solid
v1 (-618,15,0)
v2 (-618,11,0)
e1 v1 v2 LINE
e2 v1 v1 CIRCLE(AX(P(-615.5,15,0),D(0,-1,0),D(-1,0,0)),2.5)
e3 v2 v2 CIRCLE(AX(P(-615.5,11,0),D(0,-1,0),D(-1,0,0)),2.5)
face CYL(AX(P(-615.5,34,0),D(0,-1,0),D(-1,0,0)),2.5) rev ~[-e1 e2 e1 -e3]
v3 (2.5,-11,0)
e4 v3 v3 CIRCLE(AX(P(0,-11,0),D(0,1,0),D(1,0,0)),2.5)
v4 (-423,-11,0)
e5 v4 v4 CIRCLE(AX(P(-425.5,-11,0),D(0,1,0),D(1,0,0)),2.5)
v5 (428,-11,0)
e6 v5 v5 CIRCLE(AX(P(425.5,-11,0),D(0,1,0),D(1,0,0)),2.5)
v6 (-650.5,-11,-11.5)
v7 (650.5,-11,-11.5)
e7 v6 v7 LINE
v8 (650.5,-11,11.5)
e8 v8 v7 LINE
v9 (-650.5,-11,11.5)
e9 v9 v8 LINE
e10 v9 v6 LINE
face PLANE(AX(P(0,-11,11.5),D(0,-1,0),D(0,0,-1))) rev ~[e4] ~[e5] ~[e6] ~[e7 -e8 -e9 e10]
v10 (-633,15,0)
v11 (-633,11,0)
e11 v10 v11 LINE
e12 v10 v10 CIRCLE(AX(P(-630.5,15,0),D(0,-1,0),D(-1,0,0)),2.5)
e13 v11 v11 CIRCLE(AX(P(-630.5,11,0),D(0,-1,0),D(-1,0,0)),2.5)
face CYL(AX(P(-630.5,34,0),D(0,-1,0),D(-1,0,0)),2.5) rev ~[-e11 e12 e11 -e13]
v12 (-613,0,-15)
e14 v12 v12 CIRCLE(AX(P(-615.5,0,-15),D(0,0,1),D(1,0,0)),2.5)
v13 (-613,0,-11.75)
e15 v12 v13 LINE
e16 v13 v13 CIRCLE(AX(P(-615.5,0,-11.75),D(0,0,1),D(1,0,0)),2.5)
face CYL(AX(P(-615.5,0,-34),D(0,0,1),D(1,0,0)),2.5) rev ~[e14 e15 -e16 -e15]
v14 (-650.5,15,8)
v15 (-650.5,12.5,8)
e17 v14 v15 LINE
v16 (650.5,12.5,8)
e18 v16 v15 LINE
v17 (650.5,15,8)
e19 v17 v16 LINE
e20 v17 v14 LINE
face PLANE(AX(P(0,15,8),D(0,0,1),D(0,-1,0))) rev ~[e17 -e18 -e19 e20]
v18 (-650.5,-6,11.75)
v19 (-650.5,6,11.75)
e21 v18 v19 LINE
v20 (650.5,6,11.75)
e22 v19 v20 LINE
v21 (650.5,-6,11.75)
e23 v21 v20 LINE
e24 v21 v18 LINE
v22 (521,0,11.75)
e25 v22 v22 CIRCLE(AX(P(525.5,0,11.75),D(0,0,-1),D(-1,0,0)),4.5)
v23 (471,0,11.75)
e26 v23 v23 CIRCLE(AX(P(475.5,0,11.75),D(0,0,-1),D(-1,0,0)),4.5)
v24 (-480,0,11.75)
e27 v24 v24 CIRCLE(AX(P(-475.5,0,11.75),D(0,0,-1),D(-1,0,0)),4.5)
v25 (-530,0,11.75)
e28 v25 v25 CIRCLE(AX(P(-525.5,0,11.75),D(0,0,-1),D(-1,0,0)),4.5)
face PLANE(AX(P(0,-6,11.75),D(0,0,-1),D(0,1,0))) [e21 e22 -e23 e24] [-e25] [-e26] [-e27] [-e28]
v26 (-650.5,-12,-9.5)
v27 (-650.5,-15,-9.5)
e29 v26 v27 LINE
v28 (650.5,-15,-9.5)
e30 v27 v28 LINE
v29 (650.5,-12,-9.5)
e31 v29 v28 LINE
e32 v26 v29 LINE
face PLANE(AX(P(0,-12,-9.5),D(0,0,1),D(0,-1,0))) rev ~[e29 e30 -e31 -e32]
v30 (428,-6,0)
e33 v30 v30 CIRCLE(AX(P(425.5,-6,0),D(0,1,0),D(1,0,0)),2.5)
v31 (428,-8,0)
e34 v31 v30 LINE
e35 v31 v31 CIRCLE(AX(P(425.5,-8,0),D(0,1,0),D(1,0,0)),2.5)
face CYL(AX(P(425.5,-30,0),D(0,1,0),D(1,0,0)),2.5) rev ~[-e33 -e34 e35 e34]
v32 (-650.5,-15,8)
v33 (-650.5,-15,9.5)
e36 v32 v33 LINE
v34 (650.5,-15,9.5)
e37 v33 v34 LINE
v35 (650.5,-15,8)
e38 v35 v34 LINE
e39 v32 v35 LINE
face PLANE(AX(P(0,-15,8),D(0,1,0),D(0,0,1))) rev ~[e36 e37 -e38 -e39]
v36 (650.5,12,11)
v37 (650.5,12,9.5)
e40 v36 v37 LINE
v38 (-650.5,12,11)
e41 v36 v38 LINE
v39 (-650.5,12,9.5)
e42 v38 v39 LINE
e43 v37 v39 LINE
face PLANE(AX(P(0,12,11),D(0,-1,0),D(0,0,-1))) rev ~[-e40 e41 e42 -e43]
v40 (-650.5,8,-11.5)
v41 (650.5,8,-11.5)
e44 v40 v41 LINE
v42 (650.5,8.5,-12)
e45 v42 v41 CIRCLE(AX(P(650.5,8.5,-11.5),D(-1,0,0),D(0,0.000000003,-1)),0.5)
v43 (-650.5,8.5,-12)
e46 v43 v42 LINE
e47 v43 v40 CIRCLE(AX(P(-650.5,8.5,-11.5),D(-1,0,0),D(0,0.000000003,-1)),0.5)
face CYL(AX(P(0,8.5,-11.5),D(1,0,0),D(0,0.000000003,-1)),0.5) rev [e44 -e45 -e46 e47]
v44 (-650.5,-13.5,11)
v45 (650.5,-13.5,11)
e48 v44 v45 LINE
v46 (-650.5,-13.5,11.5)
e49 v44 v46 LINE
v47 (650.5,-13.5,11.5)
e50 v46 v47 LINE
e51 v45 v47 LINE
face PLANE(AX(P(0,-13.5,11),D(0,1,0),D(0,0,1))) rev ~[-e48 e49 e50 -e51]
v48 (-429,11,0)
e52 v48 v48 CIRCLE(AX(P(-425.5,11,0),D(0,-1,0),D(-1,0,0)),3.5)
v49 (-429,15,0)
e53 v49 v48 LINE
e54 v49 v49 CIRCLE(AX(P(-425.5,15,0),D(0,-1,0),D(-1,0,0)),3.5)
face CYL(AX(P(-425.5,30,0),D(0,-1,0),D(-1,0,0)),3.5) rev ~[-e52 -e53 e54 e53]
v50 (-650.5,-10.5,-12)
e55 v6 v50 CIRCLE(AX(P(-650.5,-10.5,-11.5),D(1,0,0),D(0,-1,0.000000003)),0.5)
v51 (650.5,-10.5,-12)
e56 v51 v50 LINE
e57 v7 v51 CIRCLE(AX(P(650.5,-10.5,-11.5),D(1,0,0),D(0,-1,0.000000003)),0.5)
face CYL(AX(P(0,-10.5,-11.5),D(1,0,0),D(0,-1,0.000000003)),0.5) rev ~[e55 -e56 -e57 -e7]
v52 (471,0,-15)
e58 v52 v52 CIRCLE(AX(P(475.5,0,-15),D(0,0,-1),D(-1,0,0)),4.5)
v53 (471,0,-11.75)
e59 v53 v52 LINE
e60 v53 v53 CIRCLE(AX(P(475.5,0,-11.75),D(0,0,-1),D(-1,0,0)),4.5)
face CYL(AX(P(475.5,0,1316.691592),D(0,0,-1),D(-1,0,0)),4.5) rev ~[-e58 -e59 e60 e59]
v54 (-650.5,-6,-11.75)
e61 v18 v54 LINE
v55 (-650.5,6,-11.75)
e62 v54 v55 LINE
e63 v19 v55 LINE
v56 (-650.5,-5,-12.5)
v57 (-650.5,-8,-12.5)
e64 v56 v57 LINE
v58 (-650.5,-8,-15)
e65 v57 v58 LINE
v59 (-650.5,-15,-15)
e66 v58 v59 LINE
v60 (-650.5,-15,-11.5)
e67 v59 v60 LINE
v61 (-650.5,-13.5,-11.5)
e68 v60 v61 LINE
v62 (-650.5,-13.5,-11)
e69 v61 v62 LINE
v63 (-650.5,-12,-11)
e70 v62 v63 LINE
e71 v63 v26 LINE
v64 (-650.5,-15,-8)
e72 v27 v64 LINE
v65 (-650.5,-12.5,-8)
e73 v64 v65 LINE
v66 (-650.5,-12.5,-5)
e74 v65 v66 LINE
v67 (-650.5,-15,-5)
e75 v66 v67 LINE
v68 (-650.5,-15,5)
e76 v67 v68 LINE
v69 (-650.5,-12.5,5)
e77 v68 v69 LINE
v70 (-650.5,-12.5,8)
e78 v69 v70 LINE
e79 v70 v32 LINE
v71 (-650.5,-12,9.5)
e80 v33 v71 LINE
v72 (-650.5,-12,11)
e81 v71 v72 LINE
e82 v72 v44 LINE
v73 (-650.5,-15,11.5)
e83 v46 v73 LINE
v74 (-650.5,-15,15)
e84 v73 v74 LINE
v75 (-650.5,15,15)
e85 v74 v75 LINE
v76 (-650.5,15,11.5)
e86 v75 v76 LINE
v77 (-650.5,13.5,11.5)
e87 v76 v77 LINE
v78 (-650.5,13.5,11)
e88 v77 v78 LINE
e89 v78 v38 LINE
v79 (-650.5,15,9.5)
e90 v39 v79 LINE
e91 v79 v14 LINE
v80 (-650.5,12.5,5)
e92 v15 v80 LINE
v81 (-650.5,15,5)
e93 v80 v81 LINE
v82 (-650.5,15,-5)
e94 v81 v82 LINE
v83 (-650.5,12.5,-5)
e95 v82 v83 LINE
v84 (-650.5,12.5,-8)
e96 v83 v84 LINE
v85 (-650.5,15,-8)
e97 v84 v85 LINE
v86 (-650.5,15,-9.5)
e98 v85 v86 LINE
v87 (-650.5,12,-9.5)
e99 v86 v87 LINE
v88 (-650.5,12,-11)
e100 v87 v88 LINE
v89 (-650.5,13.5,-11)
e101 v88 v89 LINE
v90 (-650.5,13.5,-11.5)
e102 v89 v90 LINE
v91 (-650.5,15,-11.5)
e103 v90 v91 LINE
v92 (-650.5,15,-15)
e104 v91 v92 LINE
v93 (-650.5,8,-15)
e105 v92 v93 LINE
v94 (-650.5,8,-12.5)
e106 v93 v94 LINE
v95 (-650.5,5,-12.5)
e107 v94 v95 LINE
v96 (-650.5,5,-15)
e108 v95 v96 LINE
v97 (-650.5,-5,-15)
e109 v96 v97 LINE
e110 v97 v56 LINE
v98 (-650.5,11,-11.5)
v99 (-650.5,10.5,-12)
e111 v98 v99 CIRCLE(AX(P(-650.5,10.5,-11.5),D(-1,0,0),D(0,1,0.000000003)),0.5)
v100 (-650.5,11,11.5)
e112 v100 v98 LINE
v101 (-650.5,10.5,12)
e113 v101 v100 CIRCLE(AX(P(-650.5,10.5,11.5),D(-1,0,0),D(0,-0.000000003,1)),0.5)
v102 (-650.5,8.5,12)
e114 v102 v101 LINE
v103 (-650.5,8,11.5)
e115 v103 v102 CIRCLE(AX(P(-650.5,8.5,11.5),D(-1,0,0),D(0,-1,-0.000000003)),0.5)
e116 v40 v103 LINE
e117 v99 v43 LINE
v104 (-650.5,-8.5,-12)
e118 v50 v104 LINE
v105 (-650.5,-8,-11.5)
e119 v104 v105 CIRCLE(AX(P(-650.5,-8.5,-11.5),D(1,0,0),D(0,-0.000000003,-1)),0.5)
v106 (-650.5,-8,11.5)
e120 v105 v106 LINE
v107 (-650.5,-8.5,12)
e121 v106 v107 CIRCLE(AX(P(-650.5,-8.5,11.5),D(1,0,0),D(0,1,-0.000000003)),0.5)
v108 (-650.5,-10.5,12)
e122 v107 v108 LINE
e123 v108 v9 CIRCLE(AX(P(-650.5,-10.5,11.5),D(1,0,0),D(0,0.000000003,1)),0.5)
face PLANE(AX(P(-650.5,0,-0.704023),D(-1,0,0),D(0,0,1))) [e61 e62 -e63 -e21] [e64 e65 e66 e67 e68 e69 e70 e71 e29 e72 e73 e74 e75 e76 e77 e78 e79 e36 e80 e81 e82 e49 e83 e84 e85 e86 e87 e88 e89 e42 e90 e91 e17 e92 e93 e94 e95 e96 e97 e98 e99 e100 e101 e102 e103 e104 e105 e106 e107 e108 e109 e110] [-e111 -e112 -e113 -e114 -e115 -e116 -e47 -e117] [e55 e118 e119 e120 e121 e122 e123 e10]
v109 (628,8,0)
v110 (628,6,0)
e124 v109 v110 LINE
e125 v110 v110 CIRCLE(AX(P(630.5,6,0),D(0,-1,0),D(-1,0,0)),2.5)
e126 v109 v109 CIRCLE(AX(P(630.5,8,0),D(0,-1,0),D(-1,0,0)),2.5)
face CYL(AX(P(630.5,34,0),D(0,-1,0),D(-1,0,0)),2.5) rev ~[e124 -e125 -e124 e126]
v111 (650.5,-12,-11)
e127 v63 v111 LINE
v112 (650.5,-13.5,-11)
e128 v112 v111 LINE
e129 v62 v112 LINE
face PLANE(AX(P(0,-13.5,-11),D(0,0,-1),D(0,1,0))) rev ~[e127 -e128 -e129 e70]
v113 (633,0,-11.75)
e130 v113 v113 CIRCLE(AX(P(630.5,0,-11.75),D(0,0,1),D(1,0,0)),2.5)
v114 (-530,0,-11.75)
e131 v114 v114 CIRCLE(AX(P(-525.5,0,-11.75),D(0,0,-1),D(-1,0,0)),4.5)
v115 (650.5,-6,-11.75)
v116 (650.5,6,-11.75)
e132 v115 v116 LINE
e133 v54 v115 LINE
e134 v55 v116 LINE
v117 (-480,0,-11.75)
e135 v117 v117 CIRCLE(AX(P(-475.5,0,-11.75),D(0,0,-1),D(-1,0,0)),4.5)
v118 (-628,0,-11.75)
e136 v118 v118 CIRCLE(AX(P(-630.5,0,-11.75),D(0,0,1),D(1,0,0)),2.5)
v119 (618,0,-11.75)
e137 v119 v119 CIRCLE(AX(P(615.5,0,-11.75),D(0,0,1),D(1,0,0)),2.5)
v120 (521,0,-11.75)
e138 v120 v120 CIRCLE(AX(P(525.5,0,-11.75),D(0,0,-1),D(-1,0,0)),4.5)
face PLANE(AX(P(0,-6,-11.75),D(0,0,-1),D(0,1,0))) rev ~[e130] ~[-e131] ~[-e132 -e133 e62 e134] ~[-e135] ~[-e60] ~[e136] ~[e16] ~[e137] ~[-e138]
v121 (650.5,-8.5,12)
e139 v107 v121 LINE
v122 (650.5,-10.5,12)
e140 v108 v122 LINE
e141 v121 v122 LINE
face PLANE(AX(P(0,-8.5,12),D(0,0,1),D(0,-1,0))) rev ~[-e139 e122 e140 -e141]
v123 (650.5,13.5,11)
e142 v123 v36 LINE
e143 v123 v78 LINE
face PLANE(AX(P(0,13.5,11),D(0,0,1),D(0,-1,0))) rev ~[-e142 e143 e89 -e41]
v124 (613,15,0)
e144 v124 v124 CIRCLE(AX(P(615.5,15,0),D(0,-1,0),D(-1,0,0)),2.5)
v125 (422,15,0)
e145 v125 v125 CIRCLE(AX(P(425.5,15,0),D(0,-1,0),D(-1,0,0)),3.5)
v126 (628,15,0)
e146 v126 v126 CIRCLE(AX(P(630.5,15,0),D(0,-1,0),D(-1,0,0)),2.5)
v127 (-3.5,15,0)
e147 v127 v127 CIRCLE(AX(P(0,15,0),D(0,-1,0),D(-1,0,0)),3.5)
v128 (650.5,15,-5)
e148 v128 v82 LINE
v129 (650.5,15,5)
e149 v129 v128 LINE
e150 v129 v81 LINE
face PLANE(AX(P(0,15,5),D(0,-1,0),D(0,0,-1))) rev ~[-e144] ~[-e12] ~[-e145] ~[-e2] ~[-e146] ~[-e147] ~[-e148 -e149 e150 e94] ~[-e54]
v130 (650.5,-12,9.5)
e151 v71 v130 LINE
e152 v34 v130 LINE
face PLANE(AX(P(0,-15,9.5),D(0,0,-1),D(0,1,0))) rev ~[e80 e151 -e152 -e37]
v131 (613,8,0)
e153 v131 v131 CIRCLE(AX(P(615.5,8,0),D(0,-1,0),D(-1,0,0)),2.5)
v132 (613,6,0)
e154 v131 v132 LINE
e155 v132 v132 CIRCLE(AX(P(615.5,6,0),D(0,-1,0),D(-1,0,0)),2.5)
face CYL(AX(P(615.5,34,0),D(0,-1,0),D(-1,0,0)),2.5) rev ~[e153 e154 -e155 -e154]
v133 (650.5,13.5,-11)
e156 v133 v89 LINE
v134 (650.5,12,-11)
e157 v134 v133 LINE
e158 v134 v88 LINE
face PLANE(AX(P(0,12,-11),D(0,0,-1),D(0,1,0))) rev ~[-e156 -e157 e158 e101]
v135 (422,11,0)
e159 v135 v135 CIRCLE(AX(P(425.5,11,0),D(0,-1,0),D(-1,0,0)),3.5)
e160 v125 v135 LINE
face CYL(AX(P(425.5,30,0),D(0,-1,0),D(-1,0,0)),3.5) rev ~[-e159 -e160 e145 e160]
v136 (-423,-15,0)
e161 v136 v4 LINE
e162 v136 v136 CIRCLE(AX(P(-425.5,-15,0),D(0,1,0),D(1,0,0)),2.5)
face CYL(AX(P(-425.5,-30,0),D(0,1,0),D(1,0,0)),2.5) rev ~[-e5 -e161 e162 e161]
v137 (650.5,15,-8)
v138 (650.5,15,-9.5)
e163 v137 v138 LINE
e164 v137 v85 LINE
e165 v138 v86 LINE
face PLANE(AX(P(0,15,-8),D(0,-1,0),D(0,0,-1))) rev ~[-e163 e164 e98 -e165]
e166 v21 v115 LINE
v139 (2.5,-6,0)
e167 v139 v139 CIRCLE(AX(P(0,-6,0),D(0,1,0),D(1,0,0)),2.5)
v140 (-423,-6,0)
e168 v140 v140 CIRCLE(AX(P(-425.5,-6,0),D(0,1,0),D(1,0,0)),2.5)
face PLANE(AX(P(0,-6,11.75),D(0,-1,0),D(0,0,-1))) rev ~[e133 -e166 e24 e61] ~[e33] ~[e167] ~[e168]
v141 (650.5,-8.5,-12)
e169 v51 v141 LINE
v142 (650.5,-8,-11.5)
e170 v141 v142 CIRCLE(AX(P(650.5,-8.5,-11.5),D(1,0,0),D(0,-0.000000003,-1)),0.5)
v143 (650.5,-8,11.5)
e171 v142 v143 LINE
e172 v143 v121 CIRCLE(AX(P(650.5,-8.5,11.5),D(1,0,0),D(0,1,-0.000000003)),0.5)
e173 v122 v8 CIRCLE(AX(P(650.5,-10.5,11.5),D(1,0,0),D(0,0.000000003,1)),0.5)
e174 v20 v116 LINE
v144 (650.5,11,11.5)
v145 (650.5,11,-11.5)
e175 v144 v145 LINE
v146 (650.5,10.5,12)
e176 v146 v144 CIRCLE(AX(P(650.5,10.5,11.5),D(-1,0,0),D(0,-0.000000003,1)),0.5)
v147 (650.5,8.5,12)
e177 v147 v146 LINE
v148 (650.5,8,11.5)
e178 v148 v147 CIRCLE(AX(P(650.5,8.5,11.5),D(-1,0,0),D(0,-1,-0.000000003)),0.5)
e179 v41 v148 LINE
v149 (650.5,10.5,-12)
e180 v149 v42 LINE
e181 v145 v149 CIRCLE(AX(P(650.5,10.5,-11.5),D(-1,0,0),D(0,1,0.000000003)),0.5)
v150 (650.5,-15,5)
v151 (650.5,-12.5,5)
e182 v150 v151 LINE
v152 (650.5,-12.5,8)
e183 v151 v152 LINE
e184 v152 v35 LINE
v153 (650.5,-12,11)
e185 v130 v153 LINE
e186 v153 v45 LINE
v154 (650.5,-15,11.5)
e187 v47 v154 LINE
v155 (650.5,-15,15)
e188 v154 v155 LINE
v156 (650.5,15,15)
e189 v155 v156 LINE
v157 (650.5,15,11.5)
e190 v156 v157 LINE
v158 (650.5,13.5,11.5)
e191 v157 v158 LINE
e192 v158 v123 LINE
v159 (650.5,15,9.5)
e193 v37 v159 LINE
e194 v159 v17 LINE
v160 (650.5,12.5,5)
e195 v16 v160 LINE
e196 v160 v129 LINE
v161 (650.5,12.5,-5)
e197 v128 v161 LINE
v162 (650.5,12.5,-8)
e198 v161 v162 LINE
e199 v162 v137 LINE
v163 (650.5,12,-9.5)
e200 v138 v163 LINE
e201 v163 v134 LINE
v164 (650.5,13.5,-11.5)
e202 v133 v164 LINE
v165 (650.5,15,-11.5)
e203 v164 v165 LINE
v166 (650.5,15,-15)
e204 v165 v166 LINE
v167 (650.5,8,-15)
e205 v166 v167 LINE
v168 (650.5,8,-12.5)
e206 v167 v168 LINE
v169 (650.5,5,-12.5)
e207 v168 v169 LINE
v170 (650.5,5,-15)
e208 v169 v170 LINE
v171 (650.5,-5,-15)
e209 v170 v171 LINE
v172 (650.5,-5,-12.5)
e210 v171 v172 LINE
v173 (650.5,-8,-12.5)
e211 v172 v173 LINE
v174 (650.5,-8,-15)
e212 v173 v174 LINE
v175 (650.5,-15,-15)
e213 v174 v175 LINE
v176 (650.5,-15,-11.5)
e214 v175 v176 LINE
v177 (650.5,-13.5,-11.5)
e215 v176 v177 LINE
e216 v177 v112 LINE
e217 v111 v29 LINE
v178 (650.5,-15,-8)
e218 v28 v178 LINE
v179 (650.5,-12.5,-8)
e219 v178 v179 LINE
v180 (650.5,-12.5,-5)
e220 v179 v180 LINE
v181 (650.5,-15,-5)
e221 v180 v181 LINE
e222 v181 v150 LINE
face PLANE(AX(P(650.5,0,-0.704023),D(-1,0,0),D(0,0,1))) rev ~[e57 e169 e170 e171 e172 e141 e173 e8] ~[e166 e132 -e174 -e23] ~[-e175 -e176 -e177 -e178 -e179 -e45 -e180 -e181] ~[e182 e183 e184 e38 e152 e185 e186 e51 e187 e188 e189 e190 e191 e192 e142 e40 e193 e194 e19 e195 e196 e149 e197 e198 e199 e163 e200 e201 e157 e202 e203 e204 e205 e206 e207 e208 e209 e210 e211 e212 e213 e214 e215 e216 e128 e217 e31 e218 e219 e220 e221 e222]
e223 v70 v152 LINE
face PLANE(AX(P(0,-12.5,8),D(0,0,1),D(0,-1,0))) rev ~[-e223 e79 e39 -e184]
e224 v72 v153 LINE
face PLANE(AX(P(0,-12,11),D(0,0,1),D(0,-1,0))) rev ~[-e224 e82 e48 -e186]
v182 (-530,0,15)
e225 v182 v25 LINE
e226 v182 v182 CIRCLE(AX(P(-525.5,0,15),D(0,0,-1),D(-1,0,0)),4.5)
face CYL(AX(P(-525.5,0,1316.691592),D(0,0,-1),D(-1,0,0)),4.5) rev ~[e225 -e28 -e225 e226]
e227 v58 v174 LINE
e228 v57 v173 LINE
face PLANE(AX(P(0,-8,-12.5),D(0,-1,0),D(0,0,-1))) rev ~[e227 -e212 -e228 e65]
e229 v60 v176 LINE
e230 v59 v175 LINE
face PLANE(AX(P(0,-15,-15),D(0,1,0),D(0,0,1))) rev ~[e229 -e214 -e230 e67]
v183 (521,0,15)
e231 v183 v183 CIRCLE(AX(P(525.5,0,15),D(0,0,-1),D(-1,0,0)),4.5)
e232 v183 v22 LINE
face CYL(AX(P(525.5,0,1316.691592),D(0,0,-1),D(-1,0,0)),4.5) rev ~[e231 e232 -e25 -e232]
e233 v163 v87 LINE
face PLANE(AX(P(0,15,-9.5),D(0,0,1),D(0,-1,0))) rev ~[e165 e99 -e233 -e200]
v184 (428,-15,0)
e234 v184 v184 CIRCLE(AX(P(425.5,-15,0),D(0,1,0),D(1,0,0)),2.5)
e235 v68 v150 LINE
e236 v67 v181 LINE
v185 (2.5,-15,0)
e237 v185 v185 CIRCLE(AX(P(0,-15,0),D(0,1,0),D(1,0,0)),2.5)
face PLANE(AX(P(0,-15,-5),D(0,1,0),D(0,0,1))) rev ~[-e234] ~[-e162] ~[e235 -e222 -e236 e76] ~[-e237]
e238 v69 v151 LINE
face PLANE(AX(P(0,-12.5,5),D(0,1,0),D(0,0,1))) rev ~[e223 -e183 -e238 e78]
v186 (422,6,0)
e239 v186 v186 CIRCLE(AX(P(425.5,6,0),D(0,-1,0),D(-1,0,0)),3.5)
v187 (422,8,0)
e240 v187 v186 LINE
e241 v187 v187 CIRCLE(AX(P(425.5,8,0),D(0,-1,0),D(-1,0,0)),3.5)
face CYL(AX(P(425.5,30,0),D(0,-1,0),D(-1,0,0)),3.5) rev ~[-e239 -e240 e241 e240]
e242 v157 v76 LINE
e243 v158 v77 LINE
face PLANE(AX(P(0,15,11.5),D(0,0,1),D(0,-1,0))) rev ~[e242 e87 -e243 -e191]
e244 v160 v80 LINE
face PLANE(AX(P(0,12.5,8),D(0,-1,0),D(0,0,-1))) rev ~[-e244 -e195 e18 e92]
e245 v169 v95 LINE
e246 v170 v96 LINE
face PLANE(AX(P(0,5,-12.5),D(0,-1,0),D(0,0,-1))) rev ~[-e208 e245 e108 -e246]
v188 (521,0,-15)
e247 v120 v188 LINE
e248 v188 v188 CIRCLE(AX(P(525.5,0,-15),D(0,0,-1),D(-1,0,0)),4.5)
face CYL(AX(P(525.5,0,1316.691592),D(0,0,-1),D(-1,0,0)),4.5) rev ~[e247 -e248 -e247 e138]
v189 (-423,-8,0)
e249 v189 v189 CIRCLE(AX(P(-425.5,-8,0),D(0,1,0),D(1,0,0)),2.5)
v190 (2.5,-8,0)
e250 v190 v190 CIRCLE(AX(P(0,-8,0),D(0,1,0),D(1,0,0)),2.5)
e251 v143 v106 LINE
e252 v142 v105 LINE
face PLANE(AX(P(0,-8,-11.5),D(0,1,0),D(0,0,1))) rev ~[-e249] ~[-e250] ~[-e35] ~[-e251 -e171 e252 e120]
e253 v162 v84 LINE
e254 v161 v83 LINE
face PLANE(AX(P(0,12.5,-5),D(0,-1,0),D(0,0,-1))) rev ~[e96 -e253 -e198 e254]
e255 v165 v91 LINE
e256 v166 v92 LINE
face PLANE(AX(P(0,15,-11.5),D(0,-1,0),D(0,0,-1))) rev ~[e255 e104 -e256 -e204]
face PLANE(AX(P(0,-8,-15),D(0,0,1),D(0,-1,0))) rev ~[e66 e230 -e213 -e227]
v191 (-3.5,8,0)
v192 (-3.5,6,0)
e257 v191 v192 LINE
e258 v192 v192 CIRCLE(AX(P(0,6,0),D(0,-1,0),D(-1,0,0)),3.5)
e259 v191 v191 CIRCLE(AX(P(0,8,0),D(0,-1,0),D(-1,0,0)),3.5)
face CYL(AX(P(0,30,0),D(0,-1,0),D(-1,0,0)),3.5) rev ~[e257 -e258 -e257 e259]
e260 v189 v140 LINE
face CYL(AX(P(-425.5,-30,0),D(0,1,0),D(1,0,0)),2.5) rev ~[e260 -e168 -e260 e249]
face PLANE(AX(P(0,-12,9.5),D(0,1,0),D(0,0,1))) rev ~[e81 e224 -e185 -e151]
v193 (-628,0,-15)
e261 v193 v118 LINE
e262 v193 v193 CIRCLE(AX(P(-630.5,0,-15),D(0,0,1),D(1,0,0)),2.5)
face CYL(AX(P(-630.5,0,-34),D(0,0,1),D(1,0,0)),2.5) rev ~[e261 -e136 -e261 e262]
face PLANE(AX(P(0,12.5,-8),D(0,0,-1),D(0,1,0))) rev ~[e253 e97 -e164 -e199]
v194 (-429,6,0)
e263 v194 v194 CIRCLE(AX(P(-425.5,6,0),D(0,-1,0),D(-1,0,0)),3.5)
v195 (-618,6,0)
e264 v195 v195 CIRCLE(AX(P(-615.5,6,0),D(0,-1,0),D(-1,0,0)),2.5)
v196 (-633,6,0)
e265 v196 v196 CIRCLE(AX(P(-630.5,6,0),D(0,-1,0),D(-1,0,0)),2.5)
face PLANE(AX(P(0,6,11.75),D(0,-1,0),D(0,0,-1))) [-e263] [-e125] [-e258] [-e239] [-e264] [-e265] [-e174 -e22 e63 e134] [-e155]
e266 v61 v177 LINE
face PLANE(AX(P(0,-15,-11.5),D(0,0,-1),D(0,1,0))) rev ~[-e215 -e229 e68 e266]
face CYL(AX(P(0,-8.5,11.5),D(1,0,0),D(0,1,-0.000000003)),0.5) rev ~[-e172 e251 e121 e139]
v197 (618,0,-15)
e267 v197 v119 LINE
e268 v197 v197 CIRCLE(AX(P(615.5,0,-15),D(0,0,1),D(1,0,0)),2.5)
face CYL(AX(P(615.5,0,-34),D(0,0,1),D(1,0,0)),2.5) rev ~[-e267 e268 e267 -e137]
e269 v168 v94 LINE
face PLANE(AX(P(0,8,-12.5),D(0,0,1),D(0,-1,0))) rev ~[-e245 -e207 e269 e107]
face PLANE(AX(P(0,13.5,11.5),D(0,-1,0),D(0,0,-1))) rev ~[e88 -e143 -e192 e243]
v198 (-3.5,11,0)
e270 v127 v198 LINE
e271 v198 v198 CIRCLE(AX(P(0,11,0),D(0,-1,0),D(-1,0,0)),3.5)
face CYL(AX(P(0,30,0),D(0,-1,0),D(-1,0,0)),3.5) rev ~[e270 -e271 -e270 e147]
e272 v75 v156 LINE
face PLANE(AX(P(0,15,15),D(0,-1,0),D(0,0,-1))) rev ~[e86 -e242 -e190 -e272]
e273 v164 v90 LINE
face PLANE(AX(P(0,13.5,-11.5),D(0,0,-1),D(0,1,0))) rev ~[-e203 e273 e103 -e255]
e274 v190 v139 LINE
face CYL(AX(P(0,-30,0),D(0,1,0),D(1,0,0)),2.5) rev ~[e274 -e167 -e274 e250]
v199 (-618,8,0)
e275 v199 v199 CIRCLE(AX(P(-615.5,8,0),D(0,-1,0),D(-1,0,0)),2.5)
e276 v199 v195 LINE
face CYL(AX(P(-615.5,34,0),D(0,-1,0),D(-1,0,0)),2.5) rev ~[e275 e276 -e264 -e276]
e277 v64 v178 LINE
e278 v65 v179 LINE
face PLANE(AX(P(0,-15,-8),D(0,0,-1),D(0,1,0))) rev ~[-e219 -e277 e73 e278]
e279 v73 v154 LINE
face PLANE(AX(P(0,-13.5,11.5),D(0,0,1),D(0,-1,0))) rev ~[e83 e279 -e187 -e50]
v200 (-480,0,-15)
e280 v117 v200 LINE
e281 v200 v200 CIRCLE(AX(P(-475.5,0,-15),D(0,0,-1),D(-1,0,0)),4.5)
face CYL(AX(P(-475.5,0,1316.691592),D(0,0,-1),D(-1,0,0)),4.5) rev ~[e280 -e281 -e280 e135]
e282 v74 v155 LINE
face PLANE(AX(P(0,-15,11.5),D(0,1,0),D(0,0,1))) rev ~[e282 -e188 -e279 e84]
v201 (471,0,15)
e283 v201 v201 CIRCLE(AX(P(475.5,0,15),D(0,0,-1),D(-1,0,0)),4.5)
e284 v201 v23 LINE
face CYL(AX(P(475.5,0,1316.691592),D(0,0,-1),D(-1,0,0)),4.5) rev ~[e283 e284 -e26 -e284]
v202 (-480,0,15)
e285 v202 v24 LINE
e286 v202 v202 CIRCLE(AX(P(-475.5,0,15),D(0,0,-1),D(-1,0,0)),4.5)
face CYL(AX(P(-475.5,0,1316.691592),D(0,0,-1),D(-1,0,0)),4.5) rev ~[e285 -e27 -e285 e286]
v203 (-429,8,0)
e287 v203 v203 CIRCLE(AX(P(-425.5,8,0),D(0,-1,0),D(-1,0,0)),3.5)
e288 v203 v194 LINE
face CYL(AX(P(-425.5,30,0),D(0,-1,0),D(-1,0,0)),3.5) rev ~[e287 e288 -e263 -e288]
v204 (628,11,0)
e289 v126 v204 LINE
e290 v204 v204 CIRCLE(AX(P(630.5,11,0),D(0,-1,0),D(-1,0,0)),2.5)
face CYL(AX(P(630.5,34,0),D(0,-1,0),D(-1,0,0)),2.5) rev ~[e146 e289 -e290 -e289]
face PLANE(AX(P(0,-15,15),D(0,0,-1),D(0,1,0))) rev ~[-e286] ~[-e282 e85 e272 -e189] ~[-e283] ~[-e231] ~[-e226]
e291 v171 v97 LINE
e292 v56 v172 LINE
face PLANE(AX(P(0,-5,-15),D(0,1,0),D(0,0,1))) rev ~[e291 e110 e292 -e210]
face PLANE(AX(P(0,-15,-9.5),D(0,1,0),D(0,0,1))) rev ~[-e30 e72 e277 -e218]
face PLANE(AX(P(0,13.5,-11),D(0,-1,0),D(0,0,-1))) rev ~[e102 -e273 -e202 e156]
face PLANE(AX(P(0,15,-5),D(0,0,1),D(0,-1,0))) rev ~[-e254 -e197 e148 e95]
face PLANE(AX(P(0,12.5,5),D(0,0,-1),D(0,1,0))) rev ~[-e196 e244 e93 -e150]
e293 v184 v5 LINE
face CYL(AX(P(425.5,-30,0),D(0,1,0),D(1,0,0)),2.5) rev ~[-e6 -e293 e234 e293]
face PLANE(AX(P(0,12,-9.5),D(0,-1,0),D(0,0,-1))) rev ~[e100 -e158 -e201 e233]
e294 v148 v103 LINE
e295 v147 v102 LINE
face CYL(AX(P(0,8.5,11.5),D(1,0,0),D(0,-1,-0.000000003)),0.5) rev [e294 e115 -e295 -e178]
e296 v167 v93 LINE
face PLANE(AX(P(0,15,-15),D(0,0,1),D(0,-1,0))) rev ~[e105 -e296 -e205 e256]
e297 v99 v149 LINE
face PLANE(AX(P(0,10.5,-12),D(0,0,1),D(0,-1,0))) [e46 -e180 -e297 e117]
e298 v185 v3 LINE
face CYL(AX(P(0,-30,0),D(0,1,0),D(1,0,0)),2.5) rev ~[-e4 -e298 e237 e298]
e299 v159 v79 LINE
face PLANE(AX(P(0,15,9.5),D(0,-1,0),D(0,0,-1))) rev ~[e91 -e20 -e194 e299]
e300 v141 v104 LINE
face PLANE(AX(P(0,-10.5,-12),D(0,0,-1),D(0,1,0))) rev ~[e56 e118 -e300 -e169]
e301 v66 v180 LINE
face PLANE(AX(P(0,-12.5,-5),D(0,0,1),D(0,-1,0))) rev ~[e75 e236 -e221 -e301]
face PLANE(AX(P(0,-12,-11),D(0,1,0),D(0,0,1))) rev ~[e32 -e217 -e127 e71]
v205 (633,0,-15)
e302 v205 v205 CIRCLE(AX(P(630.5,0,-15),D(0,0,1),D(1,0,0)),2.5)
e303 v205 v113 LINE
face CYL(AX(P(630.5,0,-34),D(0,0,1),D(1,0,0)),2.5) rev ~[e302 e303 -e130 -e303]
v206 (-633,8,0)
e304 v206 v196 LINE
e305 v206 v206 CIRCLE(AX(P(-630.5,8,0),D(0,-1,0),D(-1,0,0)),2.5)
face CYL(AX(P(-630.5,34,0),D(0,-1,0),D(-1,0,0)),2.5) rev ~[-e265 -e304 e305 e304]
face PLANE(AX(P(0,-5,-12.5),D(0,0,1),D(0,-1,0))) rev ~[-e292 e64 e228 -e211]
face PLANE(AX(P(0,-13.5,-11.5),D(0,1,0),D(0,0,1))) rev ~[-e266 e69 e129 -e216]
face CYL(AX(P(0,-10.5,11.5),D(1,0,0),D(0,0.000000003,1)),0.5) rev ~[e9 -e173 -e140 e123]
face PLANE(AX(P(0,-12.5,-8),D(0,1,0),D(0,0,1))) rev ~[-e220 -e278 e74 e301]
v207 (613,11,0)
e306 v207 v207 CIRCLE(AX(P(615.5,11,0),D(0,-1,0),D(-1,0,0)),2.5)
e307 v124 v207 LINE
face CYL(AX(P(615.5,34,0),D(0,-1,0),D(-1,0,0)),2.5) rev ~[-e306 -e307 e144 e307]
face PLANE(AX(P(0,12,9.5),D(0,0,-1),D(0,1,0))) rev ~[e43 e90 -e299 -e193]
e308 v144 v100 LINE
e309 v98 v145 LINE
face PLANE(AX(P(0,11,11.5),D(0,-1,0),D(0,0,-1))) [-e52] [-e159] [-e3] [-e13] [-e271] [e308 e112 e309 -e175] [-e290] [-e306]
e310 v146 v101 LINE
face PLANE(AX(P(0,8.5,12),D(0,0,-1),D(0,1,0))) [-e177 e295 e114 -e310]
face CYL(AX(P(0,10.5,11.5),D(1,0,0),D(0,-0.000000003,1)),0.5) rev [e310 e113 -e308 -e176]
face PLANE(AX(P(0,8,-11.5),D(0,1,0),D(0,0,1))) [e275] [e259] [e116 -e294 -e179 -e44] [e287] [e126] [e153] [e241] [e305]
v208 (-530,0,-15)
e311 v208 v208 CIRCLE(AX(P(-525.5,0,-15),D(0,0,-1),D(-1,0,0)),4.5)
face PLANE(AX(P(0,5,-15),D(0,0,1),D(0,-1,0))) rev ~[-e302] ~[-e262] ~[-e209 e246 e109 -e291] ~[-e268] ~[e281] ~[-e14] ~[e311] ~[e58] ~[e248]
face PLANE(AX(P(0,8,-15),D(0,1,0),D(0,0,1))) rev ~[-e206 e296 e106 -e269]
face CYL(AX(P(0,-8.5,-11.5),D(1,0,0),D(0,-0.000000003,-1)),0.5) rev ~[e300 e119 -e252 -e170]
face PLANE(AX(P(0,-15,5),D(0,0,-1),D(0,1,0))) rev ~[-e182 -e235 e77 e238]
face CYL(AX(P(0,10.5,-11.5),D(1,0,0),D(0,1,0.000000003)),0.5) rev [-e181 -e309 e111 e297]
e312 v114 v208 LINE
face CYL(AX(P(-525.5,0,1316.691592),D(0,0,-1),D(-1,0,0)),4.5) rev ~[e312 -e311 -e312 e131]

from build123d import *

# Parameters (mm, degrees)
SKETCH_1_W                = 23.5
SKETCH_1_H                = 12
EXTRUDE_1_DEPTH           = 650.5
HOLE_WIZARD_M6_1_D        = 5
HOLE_WIZARD_M6_1_DEPTH    = 19
HOLE_WIZARD_M6_1_TIP      = 1.502151548
HOLE_WIZARD_M6_2_D        = 5
HOLE_WIZARD_M6_2_DEPTH    = 19
HOLE_WIZARD_M6_2_TIP      = 1.502151548
HOLE_WIZARD_9_0_9_1_D     = 9
HOLE_WIZARD_M6_3_D        = 5
HOLE_WIZARD_M6_3_DEPTH    = 15
HOLE_WIZARD_M6_3_TIP      = 1.502151548
HOLE_WIZARD_7_0_7_1_D     = 7
HOLE_WIZARD_7_0_7_1_DEPTH = 15
HOLE_WIZARD_7_0_7_1_TIP   = 2.103012167


with BuildPart() as part:
    # 草图1 → 凸台-拉伸1 (new, symmetric)
    with BuildSketch(Plane(origin=(0, 0, 0), x_dir=(0, 0, -1), z_dir=(1, 0, 0))):
        Polygon((-15, 15), (-11.5, 15), (-11.5, 13.5), (-11, 13.5), (-11, 12), (-9.5, 12), (-9.5, 15), (-8, 15), (-8, 12.5), (-5, 12.5), (-5, 15), (5, 15), (5, 12.5), (8, 12.5), (8, 15), (9.5, 15), (9.5, 12), (11, 12), (11, 13.5), (11.5, 13.5), (11.5, 15), (15, 15), (15, 8), (12.5, 8), (12.5, 5), (15, 5), (15, -5), (12.5, -5), (12.5, -8), (15, -8), (15, -15), (11.5, -15), (11.5, -13.5), (11, -13.5), (11, -12), (9.5, -12), (9.5, -15), (8, -15), (8, -12.5), (5, -12.5), (5, -15), (-5, -15), (-5, -12.5), (-8, -12.5), (-8, -15), (-9.5, -15), (-9.5, -12), (-11, -12), (-11, -13.5), (-11.5, -13.5), (-11.5, -15), (-15, -15), align=None)
        with BuildLine():
            Line((12, -10.5), (12, -8.5))
            ThreePointArc((12, -8.5), (11.853553391, -8.146446609), (11.5, -8))
            Line((11.5, -8), (-11.5, -8))
            ThreePointArc((-11.5, -8), (-11.853553391, -8.146446609), (-12, -8.5))
            Line((-12, -8.5), (-12, -10.5))
            ThreePointArc((-12, -10.5), (-11.853553391, -10.853553391), (-11.5, -11))
            Line((-11.5, -11), (11.5, -11))
            ThreePointArc((11.5, -11), (11.853553391, -10.853553391), (12, -10.5))
        make_face(mode=Mode.SUBTRACT)
        with BuildLine():
            Line((-11.5, 11), (11.5, 11))
            ThreePointArc((11.5, 11), (11.853553391, 10.853553391), (12, 10.5))
            Line((12, 10.5), (12, 8.5))
            ThreePointArc((12, 8.5), (11.853553391, 8.146446609), (11.5, 8))
            Line((11.5, 8), (-11.5, 8))
            ThreePointArc((-11.5, 8), (-11.853553391, 8.146446609), (-12, 8.5))
            Line((-12, 8.5), (-12, 10.5))
            ThreePointArc((-12, 10.5), (-11.853553391, 10.853553391), (-11.5, 11))
        make_face(mode=Mode.SUBTRACT)
        Rectangle(SKETCH_1_W, SKETCH_1_H, mode=Mode.SUBTRACT)
    extrude(amount=EXTRUDE_1_DEPTH, both=True)

    # M6 螺纹孔1
    with Locations(Plane(origin=(0, 15, 0), x_dir=(1, 0, 0), z_dir=(0, 1, 0))):
        with Locations((630.5, 0), (615.5, 0), (-630.5, 0), (-615.5, 0)):
            Hole(HOLE_WIZARD_M6_1_D / 2, depth=HOLE_WIZARD_M6_1_DEPTH)
            with Locations((0, 0, -(HOLE_WIZARD_M6_1_DEPTH + HOLE_WIZARD_M6_1_TIP / 2))):  # 118° drill point
                Cone(0, HOLE_WIZARD_M6_1_D / 2, HOLE_WIZARD_M6_1_TIP, mode=Mode.SUBTRACT)

    # M6 螺纹孔2
    with Locations(Plane(origin=(0, 0, -15), x_dir=(-1, 0, 0), z_dir=(0, 0, -1))):
        with Locations((-630.5, 0), (-615.5, 0), (615.5, 0), (630.5, 0)):
            Hole(HOLE_WIZARD_M6_2_D / 2, depth=HOLE_WIZARD_M6_2_DEPTH)
            with Locations((0, 0, -(HOLE_WIZARD_M6_2_DEPTH + HOLE_WIZARD_M6_2_TIP / 2))):  # 118° drill point
                Cone(0, HOLE_WIZARD_M6_2_D / 2, HOLE_WIZARD_M6_2_TIP, mode=Mode.SUBTRACT)

    # Ø9.0 (9) 直径孔1 (through all)
    with Locations(Plane.XY.offset(15)):
        with Locations((-525.5, 0), (-475.5, 0), (525.5, 0), (475.5, 0)):
            Hole(HOLE_WIZARD_9_0_9_1_D / 2)

    # M6 螺纹孔3
    with Locations(Plane(origin=(0, -15, 0), x_dir=(-1, 0, 0), z_dir=(0, -1, 0))):
        with Locations((425.5, 0), (0, 0), (-425.5, 0)):
            Hole(HOLE_WIZARD_M6_3_D / 2, depth=HOLE_WIZARD_M6_3_DEPTH)
            with Locations((0, 0, -(HOLE_WIZARD_M6_3_DEPTH + HOLE_WIZARD_M6_3_TIP / 2))):  # 118° drill point
                Cone(0, HOLE_WIZARD_M6_3_D / 2, HOLE_WIZARD_M6_3_TIP, mode=Mode.SUBTRACT)

    # Ø7.0 (7) 直径孔1
    with Locations(Plane(origin=(0, 15, 0), x_dir=(1, 0, 0), z_dir=(0, 1, 0))):
        with Locations((425.5, 0), (0, 0), (-425.5, 0)):
            Hole(HOLE_WIZARD_7_0_7_1_D / 2, depth=HOLE_WIZARD_7_0_7_1_DEPTH)
            with Locations((0, 0, -(HOLE_WIZARD_7_0_7_1_DEPTH + HOLE_WIZARD_7_0_7_1_TIP / 2))):  # 118° drill point
                Cone(0, HOLE_WIZARD_7_0_7_1_D / 2, HOLE_WIZARD_7_0_7_1_TIP, mode=Mode.SUBTRACT)


solid = part.part
